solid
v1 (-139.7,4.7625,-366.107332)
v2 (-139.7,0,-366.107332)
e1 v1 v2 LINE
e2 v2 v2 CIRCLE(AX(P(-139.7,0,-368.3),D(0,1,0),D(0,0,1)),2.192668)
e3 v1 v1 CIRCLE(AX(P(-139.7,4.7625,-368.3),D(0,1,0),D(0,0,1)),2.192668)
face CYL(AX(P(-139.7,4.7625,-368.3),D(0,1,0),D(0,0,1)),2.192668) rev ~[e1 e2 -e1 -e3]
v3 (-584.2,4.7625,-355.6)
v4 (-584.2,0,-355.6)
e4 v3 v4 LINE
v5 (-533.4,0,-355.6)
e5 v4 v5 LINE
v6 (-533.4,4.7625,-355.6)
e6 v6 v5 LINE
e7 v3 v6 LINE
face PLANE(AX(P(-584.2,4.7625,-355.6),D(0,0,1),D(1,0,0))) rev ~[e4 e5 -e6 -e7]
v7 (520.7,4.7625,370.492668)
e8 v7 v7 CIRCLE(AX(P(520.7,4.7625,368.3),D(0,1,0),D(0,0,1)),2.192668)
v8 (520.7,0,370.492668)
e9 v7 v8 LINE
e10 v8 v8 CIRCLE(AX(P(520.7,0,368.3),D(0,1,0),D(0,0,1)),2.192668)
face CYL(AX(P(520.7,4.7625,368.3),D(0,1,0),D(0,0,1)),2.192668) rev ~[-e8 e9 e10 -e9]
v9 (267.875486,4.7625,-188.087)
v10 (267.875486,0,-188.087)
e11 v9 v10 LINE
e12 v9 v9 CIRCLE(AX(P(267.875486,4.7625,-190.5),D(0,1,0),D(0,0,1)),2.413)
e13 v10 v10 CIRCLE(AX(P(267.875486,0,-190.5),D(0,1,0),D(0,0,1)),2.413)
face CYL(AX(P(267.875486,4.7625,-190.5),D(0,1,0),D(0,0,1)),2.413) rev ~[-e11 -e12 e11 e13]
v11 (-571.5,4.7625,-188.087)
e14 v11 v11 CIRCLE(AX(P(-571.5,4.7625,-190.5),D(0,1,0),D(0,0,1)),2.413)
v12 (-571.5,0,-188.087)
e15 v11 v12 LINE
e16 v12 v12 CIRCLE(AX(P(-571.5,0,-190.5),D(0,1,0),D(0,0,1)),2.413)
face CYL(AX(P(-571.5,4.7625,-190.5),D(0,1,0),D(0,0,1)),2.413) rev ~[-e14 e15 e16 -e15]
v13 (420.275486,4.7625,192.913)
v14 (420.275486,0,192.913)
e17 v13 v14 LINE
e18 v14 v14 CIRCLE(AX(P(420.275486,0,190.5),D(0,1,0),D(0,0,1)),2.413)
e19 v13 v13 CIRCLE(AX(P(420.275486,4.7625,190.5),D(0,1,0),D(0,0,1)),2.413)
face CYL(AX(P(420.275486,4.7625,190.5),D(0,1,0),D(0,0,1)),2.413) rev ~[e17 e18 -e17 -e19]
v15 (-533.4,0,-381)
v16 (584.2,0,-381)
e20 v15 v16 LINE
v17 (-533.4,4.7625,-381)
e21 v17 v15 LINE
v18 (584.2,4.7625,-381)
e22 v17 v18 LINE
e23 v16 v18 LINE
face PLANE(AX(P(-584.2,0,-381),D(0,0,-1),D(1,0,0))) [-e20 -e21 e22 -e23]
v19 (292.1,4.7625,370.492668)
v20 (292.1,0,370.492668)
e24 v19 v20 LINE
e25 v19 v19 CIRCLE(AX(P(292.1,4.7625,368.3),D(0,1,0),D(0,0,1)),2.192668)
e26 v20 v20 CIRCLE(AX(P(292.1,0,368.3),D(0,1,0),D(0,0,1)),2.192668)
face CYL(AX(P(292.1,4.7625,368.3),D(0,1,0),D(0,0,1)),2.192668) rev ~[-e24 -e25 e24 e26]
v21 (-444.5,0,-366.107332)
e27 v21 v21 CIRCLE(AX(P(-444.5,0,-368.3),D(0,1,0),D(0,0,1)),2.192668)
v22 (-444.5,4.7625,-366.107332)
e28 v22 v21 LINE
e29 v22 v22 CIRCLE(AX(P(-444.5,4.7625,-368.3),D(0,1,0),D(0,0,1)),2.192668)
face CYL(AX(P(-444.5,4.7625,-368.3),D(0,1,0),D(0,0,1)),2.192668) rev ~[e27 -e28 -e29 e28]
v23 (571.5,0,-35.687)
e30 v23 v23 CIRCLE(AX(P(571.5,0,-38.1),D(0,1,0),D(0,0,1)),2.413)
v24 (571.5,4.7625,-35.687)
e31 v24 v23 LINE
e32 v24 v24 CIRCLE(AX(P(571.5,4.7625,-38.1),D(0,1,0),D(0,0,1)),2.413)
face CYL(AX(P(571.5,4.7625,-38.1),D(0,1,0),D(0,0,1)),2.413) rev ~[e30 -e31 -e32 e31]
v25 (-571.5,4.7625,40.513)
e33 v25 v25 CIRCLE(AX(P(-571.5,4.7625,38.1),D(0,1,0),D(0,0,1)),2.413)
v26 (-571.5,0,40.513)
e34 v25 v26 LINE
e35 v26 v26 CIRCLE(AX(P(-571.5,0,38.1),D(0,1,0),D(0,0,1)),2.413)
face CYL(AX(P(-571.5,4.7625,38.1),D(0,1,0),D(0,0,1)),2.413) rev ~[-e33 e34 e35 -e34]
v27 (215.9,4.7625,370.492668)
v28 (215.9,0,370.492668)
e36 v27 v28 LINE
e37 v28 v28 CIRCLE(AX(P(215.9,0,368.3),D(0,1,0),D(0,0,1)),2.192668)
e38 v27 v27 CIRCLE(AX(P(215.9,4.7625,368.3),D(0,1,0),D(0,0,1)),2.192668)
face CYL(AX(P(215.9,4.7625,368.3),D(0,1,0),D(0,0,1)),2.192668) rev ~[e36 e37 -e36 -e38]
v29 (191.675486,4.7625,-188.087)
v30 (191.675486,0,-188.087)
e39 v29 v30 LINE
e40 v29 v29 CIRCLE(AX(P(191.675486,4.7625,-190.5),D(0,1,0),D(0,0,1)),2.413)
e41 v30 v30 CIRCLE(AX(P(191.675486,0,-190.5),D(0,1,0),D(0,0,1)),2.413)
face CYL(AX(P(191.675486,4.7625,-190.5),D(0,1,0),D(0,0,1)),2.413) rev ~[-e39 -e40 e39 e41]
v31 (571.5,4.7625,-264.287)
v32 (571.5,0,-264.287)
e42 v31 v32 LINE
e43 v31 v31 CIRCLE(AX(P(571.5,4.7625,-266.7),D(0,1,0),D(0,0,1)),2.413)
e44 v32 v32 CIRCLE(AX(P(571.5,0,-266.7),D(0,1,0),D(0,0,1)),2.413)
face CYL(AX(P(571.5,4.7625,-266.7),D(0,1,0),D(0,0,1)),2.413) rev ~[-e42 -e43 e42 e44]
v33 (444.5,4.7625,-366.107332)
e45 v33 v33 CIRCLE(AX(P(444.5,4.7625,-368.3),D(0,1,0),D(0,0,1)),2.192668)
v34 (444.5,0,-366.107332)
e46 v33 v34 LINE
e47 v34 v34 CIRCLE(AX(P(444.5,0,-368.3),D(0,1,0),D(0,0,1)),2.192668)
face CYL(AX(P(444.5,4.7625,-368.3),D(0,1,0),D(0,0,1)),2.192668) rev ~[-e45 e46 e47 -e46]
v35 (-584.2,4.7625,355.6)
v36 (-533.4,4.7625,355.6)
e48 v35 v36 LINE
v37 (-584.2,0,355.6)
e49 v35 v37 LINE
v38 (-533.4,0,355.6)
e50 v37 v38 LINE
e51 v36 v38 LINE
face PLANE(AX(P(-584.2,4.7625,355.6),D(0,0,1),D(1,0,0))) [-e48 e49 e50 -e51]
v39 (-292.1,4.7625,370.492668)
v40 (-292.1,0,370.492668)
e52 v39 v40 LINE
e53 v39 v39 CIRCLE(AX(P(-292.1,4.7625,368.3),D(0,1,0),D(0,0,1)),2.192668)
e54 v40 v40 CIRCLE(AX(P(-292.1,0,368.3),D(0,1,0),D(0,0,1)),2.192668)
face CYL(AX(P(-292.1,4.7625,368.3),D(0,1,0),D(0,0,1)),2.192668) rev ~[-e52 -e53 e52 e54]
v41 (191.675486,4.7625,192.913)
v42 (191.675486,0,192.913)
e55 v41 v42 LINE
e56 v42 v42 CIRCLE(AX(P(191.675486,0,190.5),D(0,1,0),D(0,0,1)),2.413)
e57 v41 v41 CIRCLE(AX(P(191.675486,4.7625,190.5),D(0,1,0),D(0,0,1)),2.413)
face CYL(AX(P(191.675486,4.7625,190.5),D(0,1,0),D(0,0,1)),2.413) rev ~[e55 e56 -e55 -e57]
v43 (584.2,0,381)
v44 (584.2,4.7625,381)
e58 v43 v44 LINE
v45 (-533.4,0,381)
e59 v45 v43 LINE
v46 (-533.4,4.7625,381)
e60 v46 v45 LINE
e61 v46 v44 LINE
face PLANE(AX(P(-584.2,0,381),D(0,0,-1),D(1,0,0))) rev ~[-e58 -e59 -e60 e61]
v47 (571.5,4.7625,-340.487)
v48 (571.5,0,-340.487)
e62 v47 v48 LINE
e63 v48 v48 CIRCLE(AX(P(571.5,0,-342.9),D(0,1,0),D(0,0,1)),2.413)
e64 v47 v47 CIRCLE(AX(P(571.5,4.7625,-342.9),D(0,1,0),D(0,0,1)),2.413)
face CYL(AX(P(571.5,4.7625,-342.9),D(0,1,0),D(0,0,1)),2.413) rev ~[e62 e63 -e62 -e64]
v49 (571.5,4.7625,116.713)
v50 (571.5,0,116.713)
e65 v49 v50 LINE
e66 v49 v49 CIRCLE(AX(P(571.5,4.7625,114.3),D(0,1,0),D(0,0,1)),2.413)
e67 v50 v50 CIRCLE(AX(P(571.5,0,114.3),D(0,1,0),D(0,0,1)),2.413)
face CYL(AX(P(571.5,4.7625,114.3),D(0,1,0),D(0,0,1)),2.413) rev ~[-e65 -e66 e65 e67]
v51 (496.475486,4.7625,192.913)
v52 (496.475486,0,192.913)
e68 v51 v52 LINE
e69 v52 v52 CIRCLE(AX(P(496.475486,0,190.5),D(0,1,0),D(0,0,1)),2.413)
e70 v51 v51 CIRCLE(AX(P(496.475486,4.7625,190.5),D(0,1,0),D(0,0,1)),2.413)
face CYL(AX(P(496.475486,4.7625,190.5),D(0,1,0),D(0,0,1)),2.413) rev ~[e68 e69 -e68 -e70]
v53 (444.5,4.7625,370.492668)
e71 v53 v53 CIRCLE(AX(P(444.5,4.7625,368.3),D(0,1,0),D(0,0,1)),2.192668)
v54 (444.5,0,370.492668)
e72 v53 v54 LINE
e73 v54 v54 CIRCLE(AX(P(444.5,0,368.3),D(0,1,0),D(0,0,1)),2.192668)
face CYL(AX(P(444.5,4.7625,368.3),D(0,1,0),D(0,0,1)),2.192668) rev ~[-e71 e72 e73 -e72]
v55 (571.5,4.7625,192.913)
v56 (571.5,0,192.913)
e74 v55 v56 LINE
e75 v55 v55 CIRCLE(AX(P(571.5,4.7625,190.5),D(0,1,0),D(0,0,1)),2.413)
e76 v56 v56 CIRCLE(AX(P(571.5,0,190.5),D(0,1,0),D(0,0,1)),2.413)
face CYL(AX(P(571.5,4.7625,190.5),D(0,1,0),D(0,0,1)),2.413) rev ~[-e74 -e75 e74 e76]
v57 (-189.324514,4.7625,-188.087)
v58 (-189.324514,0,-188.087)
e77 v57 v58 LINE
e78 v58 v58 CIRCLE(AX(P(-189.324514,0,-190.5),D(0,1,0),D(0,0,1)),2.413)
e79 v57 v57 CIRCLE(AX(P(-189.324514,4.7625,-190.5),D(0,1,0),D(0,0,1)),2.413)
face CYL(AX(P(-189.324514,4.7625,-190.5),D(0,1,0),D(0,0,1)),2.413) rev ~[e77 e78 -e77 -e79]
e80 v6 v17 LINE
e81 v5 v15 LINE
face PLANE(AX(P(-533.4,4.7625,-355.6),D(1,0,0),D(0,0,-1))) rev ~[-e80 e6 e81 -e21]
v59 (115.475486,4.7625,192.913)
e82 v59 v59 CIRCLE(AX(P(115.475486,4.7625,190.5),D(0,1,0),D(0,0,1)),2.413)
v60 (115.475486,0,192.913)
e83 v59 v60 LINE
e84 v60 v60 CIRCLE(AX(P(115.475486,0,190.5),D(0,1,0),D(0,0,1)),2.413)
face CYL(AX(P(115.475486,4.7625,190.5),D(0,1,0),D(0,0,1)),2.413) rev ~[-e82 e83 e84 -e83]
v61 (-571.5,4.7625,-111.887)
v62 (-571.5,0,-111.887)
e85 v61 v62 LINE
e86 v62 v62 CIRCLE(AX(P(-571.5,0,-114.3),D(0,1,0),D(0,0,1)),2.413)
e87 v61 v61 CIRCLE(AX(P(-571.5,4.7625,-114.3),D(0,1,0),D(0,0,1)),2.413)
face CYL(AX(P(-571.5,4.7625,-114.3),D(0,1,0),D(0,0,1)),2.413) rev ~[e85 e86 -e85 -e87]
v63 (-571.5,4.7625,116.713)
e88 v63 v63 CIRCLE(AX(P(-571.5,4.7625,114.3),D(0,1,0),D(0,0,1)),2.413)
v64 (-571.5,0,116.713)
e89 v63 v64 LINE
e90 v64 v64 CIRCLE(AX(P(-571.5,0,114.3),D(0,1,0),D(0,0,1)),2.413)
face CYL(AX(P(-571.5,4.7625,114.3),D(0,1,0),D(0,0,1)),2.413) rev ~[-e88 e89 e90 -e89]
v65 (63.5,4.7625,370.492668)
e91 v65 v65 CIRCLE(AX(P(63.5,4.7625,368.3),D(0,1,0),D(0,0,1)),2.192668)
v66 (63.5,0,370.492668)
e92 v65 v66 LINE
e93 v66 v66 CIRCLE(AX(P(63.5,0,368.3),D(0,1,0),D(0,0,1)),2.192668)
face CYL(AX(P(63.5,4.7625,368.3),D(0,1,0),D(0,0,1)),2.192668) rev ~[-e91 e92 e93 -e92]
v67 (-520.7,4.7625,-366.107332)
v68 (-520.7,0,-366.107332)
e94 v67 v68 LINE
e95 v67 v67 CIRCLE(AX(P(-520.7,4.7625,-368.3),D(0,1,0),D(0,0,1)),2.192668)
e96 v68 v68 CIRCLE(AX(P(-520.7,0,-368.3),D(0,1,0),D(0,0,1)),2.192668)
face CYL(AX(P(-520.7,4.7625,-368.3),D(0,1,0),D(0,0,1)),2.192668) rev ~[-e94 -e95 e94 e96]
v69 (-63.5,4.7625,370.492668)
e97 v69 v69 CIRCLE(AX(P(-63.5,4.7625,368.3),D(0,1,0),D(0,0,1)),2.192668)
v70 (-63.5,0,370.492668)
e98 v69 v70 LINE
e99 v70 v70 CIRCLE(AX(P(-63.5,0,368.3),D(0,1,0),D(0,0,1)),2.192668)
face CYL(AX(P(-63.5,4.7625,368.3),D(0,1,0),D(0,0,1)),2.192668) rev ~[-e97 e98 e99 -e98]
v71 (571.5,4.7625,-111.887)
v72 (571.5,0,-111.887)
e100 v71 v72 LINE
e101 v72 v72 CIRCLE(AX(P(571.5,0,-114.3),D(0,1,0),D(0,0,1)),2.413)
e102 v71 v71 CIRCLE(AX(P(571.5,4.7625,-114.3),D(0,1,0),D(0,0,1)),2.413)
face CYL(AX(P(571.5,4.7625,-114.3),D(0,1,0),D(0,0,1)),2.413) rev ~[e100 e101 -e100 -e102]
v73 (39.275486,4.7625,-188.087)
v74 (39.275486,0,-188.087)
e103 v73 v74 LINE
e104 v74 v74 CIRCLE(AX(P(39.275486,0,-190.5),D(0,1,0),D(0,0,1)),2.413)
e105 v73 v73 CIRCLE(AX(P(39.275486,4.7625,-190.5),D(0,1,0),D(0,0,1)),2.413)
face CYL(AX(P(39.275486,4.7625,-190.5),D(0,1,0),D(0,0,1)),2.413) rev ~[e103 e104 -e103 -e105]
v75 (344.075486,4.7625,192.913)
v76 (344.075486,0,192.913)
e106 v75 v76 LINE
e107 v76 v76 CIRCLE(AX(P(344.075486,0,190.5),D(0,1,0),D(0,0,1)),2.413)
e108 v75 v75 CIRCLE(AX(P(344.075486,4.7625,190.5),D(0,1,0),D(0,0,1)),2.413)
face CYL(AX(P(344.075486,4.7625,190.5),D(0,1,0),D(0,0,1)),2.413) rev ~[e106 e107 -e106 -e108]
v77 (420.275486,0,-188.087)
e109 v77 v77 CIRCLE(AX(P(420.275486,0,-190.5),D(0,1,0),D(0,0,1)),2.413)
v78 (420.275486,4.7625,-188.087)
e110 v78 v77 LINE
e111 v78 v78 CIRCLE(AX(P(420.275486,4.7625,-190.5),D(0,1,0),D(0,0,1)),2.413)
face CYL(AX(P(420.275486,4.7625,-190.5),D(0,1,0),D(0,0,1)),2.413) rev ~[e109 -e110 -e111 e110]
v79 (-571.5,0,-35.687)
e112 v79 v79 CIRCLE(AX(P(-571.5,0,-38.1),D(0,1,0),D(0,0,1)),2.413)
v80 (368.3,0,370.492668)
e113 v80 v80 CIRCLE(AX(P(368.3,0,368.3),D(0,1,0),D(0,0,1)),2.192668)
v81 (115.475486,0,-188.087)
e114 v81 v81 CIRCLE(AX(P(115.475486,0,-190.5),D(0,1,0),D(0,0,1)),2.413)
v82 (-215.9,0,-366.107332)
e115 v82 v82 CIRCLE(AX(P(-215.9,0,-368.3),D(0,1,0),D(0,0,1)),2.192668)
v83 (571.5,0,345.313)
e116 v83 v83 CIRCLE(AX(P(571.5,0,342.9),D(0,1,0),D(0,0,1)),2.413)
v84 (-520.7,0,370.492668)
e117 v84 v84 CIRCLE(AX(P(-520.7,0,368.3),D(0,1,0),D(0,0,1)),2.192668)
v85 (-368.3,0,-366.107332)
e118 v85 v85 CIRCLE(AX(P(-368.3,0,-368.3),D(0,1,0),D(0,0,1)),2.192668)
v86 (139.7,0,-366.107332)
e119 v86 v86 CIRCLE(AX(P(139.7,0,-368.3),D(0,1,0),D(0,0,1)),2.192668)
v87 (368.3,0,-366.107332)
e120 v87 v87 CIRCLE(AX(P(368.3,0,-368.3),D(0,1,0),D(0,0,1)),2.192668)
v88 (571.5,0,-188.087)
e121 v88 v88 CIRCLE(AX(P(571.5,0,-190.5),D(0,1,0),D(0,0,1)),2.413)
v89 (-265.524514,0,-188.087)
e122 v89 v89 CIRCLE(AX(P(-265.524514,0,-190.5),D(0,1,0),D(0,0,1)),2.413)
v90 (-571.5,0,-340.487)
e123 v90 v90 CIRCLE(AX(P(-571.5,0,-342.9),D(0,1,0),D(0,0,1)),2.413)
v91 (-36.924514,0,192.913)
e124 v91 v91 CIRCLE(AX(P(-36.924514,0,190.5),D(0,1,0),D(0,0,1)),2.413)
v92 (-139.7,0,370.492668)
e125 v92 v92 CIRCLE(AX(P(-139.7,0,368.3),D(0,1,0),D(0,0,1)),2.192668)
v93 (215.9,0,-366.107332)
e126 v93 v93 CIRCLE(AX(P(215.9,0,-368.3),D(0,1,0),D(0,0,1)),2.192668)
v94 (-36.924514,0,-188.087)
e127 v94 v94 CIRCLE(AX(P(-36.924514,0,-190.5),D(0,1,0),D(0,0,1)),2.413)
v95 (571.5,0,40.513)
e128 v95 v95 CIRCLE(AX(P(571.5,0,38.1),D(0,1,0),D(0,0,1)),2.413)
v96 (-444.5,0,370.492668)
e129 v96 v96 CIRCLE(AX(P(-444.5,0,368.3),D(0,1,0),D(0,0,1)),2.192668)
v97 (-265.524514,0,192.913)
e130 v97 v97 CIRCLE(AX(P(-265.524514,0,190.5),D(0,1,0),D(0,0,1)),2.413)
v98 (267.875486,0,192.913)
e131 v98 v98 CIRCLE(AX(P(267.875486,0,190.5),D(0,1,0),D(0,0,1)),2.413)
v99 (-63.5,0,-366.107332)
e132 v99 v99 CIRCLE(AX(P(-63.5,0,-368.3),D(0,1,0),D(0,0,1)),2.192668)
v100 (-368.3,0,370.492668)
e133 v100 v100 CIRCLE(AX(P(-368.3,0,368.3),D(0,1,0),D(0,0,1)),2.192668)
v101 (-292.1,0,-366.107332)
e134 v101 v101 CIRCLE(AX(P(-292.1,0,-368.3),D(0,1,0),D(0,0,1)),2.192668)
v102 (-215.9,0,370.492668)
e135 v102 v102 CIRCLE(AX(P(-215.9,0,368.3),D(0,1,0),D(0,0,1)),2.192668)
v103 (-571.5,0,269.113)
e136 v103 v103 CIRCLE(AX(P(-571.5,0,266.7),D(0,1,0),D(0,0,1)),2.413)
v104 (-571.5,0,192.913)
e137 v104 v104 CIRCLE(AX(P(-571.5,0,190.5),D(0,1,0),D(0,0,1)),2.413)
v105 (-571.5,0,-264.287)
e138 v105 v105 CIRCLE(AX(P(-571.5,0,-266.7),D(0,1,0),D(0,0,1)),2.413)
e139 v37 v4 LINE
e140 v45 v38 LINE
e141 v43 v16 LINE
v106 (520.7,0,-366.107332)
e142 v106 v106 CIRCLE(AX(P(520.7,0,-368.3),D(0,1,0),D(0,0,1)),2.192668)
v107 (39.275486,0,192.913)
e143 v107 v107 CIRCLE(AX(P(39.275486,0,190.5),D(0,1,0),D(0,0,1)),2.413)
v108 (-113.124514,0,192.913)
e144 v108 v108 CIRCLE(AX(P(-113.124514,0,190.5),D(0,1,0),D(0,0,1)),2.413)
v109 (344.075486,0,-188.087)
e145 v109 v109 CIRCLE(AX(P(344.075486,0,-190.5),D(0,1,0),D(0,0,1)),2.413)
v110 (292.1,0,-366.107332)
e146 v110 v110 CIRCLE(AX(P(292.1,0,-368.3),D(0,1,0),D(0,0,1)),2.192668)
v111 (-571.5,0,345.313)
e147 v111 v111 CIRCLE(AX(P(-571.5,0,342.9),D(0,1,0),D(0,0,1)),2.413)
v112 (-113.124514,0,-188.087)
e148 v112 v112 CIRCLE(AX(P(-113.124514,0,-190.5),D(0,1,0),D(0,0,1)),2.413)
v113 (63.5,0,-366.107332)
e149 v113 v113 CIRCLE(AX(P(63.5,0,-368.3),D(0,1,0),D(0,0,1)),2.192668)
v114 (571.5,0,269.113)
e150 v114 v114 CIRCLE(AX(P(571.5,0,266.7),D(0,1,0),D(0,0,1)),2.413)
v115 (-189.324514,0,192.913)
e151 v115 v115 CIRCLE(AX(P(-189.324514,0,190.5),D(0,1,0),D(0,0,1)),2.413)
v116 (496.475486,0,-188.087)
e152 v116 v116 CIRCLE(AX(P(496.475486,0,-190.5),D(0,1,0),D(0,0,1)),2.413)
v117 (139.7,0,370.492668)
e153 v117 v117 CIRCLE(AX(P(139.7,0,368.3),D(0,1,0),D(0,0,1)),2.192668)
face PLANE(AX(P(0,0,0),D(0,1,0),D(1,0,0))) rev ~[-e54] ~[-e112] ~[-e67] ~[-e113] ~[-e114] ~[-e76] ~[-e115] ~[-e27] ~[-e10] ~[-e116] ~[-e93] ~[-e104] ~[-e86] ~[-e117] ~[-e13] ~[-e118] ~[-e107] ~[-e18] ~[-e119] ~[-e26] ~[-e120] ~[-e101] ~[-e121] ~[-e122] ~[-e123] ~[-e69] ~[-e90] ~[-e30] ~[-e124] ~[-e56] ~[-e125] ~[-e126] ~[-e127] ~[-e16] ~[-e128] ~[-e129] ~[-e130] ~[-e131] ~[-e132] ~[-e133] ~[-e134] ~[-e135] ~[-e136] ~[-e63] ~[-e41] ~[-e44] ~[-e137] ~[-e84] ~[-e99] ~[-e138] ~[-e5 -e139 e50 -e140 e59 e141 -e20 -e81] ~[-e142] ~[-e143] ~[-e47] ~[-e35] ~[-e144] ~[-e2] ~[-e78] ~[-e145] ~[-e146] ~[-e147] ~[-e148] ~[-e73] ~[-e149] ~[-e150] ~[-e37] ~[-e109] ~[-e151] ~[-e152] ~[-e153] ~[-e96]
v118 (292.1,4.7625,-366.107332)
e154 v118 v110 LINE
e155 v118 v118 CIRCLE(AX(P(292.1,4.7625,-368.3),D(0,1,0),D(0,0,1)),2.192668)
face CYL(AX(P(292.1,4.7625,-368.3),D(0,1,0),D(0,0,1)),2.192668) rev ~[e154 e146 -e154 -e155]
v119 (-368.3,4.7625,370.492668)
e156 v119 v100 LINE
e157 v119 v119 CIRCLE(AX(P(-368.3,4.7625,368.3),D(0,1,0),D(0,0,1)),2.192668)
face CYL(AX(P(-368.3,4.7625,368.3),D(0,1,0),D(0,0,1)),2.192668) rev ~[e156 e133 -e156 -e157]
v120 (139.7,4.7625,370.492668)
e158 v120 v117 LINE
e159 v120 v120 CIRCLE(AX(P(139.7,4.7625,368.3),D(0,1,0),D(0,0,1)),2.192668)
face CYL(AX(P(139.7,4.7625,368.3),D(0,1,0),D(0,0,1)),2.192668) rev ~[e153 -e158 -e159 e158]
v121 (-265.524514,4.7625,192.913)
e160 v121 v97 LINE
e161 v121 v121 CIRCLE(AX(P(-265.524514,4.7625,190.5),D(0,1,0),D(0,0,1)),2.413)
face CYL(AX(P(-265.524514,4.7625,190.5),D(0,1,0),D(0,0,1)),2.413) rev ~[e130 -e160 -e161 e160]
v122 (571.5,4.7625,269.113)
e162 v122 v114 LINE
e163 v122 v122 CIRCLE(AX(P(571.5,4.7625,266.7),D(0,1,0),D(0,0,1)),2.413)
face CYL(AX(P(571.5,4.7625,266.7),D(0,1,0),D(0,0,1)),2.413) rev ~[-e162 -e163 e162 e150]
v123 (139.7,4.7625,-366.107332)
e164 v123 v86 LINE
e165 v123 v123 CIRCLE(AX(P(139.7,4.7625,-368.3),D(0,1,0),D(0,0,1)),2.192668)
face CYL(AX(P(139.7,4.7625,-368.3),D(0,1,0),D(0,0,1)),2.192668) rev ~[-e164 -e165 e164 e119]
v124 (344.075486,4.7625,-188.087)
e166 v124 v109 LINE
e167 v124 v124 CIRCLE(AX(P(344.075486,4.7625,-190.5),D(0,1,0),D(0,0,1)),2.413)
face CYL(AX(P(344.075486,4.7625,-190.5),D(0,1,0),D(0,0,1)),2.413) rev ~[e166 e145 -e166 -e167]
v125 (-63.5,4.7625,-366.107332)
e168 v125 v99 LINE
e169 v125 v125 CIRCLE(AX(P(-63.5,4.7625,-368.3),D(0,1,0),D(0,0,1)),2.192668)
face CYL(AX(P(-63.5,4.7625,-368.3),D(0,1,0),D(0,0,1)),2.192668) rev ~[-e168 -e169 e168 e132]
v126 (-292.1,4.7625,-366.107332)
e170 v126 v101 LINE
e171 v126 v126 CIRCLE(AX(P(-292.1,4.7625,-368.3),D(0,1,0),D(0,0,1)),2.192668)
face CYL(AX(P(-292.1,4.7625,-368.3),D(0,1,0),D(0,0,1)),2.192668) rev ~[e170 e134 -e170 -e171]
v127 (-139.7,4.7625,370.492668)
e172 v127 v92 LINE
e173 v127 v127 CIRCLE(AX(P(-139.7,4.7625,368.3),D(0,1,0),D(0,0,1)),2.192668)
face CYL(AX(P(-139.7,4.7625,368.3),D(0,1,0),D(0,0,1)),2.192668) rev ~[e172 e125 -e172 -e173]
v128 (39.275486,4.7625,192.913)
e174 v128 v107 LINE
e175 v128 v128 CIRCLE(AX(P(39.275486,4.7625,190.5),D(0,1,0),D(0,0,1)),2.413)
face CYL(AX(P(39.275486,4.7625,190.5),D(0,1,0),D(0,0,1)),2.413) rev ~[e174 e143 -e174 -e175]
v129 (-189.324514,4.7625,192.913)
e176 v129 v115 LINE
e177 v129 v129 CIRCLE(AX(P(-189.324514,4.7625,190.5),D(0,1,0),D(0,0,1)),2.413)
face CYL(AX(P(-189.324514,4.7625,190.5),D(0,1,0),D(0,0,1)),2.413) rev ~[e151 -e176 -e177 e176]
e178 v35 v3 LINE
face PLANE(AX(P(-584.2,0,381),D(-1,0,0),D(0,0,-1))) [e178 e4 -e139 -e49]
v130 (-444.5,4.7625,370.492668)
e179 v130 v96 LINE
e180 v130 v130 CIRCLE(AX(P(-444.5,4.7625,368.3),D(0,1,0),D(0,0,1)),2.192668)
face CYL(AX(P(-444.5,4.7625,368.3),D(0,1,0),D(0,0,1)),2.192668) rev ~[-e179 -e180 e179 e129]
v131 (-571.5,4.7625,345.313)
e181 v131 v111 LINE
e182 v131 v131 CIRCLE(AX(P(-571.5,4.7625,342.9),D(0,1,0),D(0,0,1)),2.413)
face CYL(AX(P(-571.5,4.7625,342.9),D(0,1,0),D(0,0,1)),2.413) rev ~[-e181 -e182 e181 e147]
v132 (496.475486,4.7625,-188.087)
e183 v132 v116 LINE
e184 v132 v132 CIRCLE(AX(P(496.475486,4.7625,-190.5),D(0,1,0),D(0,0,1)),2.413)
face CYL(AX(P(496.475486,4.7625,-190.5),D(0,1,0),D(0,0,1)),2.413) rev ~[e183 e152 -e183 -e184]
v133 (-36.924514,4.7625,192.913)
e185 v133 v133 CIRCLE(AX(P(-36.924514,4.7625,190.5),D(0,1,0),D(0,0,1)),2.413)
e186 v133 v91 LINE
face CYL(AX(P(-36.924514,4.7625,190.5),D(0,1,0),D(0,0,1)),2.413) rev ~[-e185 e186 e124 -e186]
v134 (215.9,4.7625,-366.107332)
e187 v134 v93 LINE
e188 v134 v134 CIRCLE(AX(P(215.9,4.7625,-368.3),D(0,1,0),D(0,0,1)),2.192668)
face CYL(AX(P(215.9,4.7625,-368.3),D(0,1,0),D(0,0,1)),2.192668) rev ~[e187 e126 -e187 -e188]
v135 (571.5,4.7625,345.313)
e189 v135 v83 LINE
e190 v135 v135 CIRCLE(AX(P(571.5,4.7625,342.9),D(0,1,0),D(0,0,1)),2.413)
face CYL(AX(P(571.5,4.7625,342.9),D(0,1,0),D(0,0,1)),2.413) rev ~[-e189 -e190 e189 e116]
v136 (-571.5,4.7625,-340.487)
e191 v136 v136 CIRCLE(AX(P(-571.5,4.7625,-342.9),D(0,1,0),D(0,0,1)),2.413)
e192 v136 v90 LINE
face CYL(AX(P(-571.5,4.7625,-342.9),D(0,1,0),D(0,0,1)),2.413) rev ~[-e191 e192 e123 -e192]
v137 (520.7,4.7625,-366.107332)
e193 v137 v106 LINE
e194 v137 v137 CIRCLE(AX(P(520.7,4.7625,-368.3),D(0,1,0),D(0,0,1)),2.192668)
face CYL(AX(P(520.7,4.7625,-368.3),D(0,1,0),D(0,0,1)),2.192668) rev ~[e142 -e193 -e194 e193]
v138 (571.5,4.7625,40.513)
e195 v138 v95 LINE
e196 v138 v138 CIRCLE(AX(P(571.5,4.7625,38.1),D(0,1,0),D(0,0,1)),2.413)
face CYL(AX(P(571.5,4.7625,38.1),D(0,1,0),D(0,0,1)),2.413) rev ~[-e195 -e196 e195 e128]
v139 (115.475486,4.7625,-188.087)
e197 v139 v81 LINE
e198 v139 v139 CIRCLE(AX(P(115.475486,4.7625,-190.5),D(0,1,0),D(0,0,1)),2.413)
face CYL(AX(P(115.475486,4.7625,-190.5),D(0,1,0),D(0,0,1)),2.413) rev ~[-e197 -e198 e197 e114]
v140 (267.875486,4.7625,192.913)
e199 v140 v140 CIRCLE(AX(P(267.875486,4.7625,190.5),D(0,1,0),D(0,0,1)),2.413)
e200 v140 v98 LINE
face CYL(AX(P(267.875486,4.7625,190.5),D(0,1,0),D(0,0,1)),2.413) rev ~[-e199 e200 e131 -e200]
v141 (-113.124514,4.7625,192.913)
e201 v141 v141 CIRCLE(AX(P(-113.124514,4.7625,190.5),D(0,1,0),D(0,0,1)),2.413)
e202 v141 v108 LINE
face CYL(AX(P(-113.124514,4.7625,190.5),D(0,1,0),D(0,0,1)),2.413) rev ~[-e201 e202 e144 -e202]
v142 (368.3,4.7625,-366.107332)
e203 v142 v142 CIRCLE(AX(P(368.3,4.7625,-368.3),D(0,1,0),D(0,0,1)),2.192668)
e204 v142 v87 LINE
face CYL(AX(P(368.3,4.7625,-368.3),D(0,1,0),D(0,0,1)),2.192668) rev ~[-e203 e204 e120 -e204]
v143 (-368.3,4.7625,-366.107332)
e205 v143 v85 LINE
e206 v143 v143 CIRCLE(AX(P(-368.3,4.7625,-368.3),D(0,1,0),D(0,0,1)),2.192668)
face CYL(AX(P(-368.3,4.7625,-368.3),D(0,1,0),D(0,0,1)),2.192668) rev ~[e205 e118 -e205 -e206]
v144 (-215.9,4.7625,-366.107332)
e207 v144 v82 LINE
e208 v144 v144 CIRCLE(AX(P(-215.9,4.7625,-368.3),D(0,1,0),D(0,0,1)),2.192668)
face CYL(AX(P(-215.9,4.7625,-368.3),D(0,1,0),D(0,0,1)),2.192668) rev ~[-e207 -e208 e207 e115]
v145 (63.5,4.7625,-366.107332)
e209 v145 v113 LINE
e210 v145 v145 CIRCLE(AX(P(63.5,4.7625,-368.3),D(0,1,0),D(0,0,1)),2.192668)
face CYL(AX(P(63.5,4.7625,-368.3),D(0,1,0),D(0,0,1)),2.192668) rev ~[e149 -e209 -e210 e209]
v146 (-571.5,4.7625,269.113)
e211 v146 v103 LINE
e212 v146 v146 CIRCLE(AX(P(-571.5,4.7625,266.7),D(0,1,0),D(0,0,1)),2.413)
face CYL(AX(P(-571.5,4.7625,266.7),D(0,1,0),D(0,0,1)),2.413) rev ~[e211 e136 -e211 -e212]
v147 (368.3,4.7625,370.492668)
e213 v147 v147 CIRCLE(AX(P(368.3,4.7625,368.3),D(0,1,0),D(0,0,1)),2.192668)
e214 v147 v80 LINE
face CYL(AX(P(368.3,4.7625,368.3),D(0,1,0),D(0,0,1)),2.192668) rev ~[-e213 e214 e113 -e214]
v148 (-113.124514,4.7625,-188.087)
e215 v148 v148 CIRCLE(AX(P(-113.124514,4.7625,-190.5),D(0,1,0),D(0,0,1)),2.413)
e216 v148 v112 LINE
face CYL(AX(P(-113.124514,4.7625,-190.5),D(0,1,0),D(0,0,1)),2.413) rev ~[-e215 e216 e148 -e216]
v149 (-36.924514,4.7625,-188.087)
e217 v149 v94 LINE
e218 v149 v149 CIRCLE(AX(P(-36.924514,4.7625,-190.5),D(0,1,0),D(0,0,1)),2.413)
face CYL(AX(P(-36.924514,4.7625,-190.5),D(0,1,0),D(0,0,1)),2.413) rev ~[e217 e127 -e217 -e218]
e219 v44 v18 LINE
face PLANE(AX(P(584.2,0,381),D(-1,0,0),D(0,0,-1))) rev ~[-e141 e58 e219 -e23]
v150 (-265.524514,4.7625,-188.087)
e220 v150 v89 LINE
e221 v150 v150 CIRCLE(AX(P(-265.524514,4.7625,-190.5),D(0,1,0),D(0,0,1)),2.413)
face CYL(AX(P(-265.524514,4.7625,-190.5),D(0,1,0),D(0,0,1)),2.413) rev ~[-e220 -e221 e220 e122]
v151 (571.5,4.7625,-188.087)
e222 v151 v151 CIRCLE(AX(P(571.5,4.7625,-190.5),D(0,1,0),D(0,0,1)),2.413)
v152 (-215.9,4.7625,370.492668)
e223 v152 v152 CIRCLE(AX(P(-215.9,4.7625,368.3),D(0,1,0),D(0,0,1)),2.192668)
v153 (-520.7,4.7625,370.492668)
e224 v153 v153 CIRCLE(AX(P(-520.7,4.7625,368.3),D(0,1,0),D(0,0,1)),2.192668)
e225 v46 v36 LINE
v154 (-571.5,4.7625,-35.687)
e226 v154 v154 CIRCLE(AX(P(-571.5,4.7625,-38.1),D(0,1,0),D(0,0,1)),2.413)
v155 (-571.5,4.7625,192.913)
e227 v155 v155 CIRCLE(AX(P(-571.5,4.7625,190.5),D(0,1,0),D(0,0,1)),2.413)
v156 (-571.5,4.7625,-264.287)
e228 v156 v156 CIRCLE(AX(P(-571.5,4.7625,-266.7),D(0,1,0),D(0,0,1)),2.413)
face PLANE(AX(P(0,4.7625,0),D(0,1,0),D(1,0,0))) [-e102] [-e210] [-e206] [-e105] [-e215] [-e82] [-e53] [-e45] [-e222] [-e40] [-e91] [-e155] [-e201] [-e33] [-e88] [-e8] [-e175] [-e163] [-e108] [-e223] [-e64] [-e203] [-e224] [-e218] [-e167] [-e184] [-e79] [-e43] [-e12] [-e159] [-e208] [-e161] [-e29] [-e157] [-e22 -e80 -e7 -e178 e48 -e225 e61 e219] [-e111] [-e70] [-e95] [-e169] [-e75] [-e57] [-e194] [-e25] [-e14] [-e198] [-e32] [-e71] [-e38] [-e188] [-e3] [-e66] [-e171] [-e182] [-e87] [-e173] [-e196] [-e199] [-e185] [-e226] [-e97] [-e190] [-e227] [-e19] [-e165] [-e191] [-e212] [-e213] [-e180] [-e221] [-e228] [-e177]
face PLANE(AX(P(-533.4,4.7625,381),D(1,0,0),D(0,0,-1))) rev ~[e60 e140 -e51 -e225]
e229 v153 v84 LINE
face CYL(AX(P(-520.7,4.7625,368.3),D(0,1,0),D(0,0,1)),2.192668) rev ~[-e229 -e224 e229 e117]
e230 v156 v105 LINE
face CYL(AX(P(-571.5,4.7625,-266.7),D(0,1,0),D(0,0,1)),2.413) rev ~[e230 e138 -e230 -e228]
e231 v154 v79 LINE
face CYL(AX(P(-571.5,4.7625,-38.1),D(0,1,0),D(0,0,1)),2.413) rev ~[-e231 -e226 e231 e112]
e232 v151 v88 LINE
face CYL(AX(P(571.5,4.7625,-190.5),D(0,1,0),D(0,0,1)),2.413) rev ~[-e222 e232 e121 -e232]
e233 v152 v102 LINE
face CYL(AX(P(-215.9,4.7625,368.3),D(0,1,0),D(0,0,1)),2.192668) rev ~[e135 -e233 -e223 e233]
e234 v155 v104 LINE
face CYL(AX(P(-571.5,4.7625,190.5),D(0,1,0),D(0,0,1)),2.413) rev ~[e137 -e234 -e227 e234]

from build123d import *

# Parameters (mm, degrees)
SKETCH1_W           = 1168.4
SKETCH1_H           = 762
BOSS_EXTRUDE1_DEPTH = 4.7625
SKETCH2_W           = 50.8
SKETCH2_H           = 25.4
CUT_EXTRUDE1_DEPTH  = 698.476394874
SKETCH3_R           = 2.413
CUT_EXTRUDE2_DEPTH  = 698.476394874
SKETCH4_R           = 2.413
SKETCH4_R_2         = 2.192667861
CUT_EXTRUDE3_DEPTH  = 698.476394874


with BuildPart() as part:
    # Sketch1 → Boss-Extrude1 (new body)
    with BuildSketch(Plane(origin=(0, 0, 0), x_dir=(1, 0, 0), z_dir=(0, 1, 0))):
        Rectangle(SKETCH1_W, SKETCH1_H)
    extrude(amount=BOSS_EXTRUDE1_DEPTH)

    # Sketch2 → Cut-Extrude1 (cut, through all)
    with BuildSketch(Plane(origin=(0, 4.7625, 0), x_dir=(1, 0, 0), z_dir=(0, 1, 0))):
        with Locations((-558.8, 368.3)):
            Rectangle(SKETCH2_W, SKETCH2_H)
        with Locations((-558.8, -368.3)):
            Rectangle(SKETCH2_W, SKETCH2_H)
    extrude(amount=-CUT_EXTRUDE1_DEPTH, mode=Mode.SUBTRACT)

    # Sketch3 → Cut-Extrude2 (cut, through all)
    with BuildSketch(Plane(origin=(0, 4.7625, 0), x_dir=(1, 0, 0), z_dir=(0, 1, 0))):
        with Locations(Location((-265.524513551, -190.5, 0), (0, 0, 270))):
            Circle(SKETCH3_R)
        with Locations(Location((-189.324513551, -190.5, 0), (0, 0, 270))):
            Circle(SKETCH3_R)
        with Locations(Location((-113.124513551, -190.5, 0), (0, 0, 270))):
            Circle(SKETCH3_R)
        with Locations(Location((-36.924513551, -190.5, 0), (0, 0, 270))):
            Circle(SKETCH3_R)
        with Locations(Location((39.275486449, -190.5, 0), (0, 0, 270))):
            Circle(SKETCH3_R)
        with Locations(Location((115.475486449, -190.5, 0), (0, 0, 270))):
            Circle(SKETCH3_R)
        with Locations(Location((191.675486449, -190.5, 0), (0, 0, 270))):
            Circle(SKETCH3_R)
        with Locations(Location((267.875486449, -190.5, 0), (0, 0, 270))):
            Circle(SKETCH3_R)
        with Locations(Location((344.075486449, -190.5, 0), (0, 0, 270))):
            Circle(SKETCH3_R)
        with Locations(Location((420.275486449, -190.5, 0), (0, 0, 270))):
            Circle(SKETCH3_R)
        with Locations(Location((496.475486449, -190.5, 0), (0, 0, 270))):
            Circle(SKETCH3_R)
        with Locations(Location((496.475486449, 190.5, 0), (0, 0, 270))):
            Circle(SKETCH3_R)
        with Locations(Location((420.275486449, 190.5, 0), (0, 0, 270))):
            Circle(SKETCH3_R)
        with Locations(Location((344.075486449, 190.5, 0), (0, 0, 270))):
            Circle(SKETCH3_R)
        with Locations(Location((267.875486449, 190.5, 0), (0, 0, 270))):
            Circle(SKETCH3_R)
        with Locations(Location((191.675486449, 190.5, 0), (0, 0, 270))):
            Circle(SKETCH3_R)
        with Locations(Location((115.475486449, 190.5, 0), (0, 0, 270))):
            Circle(SKETCH3_R)
        with Locations(Location((39.275486449, 190.5, 0), (0, 0, 270))):
            Circle(SKETCH3_R)
        with Locations(Location((-36.924513551, 190.5, 0), (0, 0, 270))):
            Circle(SKETCH3_R)
        with Locations(Location((-113.124513551, 190.5, 0), (0, 0, 270))):
            Circle(SKETCH3_R)
        with Locations(Location((-189.324513551, 190.5, 0), (0, 0, 270))):
            Circle(SKETCH3_R)
        with Locations(Location((-265.524513551, 190.5, 0), (0, 0, 270))):
            Circle(SKETCH3_R)
    extrude(amount=-CUT_EXTRUDE2_DEPTH, mode=Mode.SUBTRACT)

    # Sketch4 → Cut-Extrude3 (cut, through all)
    with BuildSketch(Plane(origin=(0, 4.7625, 0), x_dir=(1, 0, 0), z_dir=(0, 1, 0))):
        with Locations(Location((-571.5, 342.9, 0), (0, 0, 270))):
            Circle(SKETCH4_R)
        with Locations(Location((-571.5, 266.7, 0), (0, 0, 270))):
            Circle(SKETCH4_R)
        with Locations(Location((-571.5, 190.5, 0), (0, 0, 270))):
            Circle(SKETCH4_R)
        with Locations(Location((-571.5, 114.3, 0), (0, 0, 270))):
            Circle(SKETCH4_R)
        with Locations(Location((-571.5, 38.1, 0), (0, 0, 270))):
            Circle(SKETCH4_R)
        with Locations(Location((-571.5, -38.1, 0), (0, 0, 270))):
            Circle(SKETCH4_R)
        with Locations(Location((-571.5, -114.3, 0), (0, 0, 270))):
            Circle(SKETCH4_R)
        with Locations(Location((-571.5, -190.5, 0), (0, 0, 270))):
            Circle(SKETCH4_R)
        with Locations(Location((-571.5, -266.7, 0), (0, 0, 270))):
            Circle(SKETCH4_R)
        with Locations(Location((-571.5, -342.9, 0), (0, 0, 270))):
            Circle(SKETCH4_R)
        with Locations(Location((-520.7, 368.3, 0), (0, 0, 270))):
            Circle(SKETCH4_R_2)
        with Locations(Location((-444.5, 368.3, 0), (0, 0, 270))):
            Circle(SKETCH4_R_2)
        with Locations(Location((-368.3, 368.3, 0), (0, 0, 270))):
            Circle(SKETCH4_R_2)
        with Locations(Location((-292.1, 368.3, 0), (0, 0, 270))):
            Circle(SKETCH4_R_2)
        with Locations(Location((-215.9, 368.3, 0), (0, 0, 270))):
            Circle(SKETCH4_R_2)
        with Locations(Location((-139.7, 368.3, 0), (0, 0, 270))):
            Circle(SKETCH4_R_2)
        with Locations(Location((-63.5, 368.3, 0), (0, 0, 270))):
            Circle(SKETCH4_R_2)
        with Locations(Location((-63.5, -368.3, 0), (0, 0, 270))):
            Circle(SKETCH4_R_2)
        with Locations(Location((-139.7, -368.3, 0), (0, 0, 270))):
            Circle(SKETCH4_R_2)
        with Locations(Location((-215.9, -368.3, 0), (0, 0, 270))):
            Circle(SKETCH4_R_2)
        with Locations(Location((-292.1, -368.3, 0), (0, 0, 270))):
            Circle(SKETCH4_R_2)
        with Locations(Location((-368.3, -368.3, 0), (0, 0, 270))):
            Circle(SKETCH4_R_2)
        with Locations(Location((-444.5, -368.3, 0), (0, 0, 270))):
            Circle(SKETCH4_R_2)
        with Locations(Location((-520.7, -368.3, 0), (0, 0, 270))):
            Circle(SKETCH4_R_2)
        with Locations(Location((520.7, -368.3, 0), (0, 0, 270))):
            Circle(SKETCH4_R_2)
        with Locations(Location((444.5, -368.3, 0), (0, 0, 270))):
            Circle(SKETCH4_R_2)
        with Locations(Location((368.3, -368.3, 0), (0, 0, 270))):
            Circle(SKETCH4_R_2)
        with Locations(Location((292.1, -368.3, 0), (0, 0, 270))):
            Circle(SKETCH4_R_2)
        with Locations(Location((215.9, -368.3, 0), (0, 0, 270))):
            Circle(SKETCH4_R_2)
        with Locations(Location((139.7, -368.3, 0), (0, 0, 270))):
            Circle(SKETCH4_R_2)
        with Locations(Location((63.5, -368.3, 0), (0, 0, 270))):
            Circle(SKETCH4_R_2)
        with Locations(Location((63.5, 368.3, 0), (0, 0, 270))):
            Circle(SKETCH4_R_2)
        with Locations(Location((139.7, 368.3, 0), (0, 0, 270))):
            Circle(SKETCH4_R_2)
        with Locations(Location((215.9, 368.3, 0), (0, 0, 270))):
            Circle(SKETCH4_R_2)
        with Locations(Location((292.1, 368.3, 0), (0, 0, 270))):
            Circle(SKETCH4_R_2)
        with Locations(Location((368.3, 368.3, 0), (0, 0, 270))):
            Circle(SKETCH4_R_2)
        with Locations(Location((444.5, 368.3, 0), (0, 0, 270))):
            Circle(SKETCH4_R_2)
        with Locations(Location((520.7, 368.3, 0), (0, 0, 270))):
            Circle(SKETCH4_R_2)
        with Locations(Location((571.5, -342.9, 0), (0, 0, 270))):
            Circle(SKETCH4_R)
        with Locations(Location((571.5, -266.7, 0), (0, 0, 270))):
            Circle(SKETCH4_R)
        with Locations(Location((571.5, -190.5, 0), (0, 0, 270))):
            Circle(SKETCH4_R)
        with Locations(Location((571.5, -114.3, 0), (0, 0, 270))):
            Circle(SKETCH4_R)
        with Locations(Location((571.5, -38.1, 0), (0, 0, 270))):
            Circle(SKETCH4_R)
        with Locations(Location((571.5, 38.1, 0), (0, 0, 270))):
            Circle(SKETCH4_R)
        with Locations(Location((571.5, 114.3, 0), (0, 0, 270))):
            Circle(SKETCH4_R)
        with Locations(Location((571.5, 190.5, 0), (0, 0, 270))):
            Circle(SKETCH4_R)
        with Locations(Location((571.5, 266.7, 0), (0, 0, 270))):
            Circle(SKETCH4_R)
        with Locations(Location((571.5, 342.9, 0), (0, 0, 270))):
            Circle(SKETCH4_R)
    extrude(amount=-CUT_EXTRUDE3_DEPTH, mode=Mode.SUBTRACT)


solid = part.part
